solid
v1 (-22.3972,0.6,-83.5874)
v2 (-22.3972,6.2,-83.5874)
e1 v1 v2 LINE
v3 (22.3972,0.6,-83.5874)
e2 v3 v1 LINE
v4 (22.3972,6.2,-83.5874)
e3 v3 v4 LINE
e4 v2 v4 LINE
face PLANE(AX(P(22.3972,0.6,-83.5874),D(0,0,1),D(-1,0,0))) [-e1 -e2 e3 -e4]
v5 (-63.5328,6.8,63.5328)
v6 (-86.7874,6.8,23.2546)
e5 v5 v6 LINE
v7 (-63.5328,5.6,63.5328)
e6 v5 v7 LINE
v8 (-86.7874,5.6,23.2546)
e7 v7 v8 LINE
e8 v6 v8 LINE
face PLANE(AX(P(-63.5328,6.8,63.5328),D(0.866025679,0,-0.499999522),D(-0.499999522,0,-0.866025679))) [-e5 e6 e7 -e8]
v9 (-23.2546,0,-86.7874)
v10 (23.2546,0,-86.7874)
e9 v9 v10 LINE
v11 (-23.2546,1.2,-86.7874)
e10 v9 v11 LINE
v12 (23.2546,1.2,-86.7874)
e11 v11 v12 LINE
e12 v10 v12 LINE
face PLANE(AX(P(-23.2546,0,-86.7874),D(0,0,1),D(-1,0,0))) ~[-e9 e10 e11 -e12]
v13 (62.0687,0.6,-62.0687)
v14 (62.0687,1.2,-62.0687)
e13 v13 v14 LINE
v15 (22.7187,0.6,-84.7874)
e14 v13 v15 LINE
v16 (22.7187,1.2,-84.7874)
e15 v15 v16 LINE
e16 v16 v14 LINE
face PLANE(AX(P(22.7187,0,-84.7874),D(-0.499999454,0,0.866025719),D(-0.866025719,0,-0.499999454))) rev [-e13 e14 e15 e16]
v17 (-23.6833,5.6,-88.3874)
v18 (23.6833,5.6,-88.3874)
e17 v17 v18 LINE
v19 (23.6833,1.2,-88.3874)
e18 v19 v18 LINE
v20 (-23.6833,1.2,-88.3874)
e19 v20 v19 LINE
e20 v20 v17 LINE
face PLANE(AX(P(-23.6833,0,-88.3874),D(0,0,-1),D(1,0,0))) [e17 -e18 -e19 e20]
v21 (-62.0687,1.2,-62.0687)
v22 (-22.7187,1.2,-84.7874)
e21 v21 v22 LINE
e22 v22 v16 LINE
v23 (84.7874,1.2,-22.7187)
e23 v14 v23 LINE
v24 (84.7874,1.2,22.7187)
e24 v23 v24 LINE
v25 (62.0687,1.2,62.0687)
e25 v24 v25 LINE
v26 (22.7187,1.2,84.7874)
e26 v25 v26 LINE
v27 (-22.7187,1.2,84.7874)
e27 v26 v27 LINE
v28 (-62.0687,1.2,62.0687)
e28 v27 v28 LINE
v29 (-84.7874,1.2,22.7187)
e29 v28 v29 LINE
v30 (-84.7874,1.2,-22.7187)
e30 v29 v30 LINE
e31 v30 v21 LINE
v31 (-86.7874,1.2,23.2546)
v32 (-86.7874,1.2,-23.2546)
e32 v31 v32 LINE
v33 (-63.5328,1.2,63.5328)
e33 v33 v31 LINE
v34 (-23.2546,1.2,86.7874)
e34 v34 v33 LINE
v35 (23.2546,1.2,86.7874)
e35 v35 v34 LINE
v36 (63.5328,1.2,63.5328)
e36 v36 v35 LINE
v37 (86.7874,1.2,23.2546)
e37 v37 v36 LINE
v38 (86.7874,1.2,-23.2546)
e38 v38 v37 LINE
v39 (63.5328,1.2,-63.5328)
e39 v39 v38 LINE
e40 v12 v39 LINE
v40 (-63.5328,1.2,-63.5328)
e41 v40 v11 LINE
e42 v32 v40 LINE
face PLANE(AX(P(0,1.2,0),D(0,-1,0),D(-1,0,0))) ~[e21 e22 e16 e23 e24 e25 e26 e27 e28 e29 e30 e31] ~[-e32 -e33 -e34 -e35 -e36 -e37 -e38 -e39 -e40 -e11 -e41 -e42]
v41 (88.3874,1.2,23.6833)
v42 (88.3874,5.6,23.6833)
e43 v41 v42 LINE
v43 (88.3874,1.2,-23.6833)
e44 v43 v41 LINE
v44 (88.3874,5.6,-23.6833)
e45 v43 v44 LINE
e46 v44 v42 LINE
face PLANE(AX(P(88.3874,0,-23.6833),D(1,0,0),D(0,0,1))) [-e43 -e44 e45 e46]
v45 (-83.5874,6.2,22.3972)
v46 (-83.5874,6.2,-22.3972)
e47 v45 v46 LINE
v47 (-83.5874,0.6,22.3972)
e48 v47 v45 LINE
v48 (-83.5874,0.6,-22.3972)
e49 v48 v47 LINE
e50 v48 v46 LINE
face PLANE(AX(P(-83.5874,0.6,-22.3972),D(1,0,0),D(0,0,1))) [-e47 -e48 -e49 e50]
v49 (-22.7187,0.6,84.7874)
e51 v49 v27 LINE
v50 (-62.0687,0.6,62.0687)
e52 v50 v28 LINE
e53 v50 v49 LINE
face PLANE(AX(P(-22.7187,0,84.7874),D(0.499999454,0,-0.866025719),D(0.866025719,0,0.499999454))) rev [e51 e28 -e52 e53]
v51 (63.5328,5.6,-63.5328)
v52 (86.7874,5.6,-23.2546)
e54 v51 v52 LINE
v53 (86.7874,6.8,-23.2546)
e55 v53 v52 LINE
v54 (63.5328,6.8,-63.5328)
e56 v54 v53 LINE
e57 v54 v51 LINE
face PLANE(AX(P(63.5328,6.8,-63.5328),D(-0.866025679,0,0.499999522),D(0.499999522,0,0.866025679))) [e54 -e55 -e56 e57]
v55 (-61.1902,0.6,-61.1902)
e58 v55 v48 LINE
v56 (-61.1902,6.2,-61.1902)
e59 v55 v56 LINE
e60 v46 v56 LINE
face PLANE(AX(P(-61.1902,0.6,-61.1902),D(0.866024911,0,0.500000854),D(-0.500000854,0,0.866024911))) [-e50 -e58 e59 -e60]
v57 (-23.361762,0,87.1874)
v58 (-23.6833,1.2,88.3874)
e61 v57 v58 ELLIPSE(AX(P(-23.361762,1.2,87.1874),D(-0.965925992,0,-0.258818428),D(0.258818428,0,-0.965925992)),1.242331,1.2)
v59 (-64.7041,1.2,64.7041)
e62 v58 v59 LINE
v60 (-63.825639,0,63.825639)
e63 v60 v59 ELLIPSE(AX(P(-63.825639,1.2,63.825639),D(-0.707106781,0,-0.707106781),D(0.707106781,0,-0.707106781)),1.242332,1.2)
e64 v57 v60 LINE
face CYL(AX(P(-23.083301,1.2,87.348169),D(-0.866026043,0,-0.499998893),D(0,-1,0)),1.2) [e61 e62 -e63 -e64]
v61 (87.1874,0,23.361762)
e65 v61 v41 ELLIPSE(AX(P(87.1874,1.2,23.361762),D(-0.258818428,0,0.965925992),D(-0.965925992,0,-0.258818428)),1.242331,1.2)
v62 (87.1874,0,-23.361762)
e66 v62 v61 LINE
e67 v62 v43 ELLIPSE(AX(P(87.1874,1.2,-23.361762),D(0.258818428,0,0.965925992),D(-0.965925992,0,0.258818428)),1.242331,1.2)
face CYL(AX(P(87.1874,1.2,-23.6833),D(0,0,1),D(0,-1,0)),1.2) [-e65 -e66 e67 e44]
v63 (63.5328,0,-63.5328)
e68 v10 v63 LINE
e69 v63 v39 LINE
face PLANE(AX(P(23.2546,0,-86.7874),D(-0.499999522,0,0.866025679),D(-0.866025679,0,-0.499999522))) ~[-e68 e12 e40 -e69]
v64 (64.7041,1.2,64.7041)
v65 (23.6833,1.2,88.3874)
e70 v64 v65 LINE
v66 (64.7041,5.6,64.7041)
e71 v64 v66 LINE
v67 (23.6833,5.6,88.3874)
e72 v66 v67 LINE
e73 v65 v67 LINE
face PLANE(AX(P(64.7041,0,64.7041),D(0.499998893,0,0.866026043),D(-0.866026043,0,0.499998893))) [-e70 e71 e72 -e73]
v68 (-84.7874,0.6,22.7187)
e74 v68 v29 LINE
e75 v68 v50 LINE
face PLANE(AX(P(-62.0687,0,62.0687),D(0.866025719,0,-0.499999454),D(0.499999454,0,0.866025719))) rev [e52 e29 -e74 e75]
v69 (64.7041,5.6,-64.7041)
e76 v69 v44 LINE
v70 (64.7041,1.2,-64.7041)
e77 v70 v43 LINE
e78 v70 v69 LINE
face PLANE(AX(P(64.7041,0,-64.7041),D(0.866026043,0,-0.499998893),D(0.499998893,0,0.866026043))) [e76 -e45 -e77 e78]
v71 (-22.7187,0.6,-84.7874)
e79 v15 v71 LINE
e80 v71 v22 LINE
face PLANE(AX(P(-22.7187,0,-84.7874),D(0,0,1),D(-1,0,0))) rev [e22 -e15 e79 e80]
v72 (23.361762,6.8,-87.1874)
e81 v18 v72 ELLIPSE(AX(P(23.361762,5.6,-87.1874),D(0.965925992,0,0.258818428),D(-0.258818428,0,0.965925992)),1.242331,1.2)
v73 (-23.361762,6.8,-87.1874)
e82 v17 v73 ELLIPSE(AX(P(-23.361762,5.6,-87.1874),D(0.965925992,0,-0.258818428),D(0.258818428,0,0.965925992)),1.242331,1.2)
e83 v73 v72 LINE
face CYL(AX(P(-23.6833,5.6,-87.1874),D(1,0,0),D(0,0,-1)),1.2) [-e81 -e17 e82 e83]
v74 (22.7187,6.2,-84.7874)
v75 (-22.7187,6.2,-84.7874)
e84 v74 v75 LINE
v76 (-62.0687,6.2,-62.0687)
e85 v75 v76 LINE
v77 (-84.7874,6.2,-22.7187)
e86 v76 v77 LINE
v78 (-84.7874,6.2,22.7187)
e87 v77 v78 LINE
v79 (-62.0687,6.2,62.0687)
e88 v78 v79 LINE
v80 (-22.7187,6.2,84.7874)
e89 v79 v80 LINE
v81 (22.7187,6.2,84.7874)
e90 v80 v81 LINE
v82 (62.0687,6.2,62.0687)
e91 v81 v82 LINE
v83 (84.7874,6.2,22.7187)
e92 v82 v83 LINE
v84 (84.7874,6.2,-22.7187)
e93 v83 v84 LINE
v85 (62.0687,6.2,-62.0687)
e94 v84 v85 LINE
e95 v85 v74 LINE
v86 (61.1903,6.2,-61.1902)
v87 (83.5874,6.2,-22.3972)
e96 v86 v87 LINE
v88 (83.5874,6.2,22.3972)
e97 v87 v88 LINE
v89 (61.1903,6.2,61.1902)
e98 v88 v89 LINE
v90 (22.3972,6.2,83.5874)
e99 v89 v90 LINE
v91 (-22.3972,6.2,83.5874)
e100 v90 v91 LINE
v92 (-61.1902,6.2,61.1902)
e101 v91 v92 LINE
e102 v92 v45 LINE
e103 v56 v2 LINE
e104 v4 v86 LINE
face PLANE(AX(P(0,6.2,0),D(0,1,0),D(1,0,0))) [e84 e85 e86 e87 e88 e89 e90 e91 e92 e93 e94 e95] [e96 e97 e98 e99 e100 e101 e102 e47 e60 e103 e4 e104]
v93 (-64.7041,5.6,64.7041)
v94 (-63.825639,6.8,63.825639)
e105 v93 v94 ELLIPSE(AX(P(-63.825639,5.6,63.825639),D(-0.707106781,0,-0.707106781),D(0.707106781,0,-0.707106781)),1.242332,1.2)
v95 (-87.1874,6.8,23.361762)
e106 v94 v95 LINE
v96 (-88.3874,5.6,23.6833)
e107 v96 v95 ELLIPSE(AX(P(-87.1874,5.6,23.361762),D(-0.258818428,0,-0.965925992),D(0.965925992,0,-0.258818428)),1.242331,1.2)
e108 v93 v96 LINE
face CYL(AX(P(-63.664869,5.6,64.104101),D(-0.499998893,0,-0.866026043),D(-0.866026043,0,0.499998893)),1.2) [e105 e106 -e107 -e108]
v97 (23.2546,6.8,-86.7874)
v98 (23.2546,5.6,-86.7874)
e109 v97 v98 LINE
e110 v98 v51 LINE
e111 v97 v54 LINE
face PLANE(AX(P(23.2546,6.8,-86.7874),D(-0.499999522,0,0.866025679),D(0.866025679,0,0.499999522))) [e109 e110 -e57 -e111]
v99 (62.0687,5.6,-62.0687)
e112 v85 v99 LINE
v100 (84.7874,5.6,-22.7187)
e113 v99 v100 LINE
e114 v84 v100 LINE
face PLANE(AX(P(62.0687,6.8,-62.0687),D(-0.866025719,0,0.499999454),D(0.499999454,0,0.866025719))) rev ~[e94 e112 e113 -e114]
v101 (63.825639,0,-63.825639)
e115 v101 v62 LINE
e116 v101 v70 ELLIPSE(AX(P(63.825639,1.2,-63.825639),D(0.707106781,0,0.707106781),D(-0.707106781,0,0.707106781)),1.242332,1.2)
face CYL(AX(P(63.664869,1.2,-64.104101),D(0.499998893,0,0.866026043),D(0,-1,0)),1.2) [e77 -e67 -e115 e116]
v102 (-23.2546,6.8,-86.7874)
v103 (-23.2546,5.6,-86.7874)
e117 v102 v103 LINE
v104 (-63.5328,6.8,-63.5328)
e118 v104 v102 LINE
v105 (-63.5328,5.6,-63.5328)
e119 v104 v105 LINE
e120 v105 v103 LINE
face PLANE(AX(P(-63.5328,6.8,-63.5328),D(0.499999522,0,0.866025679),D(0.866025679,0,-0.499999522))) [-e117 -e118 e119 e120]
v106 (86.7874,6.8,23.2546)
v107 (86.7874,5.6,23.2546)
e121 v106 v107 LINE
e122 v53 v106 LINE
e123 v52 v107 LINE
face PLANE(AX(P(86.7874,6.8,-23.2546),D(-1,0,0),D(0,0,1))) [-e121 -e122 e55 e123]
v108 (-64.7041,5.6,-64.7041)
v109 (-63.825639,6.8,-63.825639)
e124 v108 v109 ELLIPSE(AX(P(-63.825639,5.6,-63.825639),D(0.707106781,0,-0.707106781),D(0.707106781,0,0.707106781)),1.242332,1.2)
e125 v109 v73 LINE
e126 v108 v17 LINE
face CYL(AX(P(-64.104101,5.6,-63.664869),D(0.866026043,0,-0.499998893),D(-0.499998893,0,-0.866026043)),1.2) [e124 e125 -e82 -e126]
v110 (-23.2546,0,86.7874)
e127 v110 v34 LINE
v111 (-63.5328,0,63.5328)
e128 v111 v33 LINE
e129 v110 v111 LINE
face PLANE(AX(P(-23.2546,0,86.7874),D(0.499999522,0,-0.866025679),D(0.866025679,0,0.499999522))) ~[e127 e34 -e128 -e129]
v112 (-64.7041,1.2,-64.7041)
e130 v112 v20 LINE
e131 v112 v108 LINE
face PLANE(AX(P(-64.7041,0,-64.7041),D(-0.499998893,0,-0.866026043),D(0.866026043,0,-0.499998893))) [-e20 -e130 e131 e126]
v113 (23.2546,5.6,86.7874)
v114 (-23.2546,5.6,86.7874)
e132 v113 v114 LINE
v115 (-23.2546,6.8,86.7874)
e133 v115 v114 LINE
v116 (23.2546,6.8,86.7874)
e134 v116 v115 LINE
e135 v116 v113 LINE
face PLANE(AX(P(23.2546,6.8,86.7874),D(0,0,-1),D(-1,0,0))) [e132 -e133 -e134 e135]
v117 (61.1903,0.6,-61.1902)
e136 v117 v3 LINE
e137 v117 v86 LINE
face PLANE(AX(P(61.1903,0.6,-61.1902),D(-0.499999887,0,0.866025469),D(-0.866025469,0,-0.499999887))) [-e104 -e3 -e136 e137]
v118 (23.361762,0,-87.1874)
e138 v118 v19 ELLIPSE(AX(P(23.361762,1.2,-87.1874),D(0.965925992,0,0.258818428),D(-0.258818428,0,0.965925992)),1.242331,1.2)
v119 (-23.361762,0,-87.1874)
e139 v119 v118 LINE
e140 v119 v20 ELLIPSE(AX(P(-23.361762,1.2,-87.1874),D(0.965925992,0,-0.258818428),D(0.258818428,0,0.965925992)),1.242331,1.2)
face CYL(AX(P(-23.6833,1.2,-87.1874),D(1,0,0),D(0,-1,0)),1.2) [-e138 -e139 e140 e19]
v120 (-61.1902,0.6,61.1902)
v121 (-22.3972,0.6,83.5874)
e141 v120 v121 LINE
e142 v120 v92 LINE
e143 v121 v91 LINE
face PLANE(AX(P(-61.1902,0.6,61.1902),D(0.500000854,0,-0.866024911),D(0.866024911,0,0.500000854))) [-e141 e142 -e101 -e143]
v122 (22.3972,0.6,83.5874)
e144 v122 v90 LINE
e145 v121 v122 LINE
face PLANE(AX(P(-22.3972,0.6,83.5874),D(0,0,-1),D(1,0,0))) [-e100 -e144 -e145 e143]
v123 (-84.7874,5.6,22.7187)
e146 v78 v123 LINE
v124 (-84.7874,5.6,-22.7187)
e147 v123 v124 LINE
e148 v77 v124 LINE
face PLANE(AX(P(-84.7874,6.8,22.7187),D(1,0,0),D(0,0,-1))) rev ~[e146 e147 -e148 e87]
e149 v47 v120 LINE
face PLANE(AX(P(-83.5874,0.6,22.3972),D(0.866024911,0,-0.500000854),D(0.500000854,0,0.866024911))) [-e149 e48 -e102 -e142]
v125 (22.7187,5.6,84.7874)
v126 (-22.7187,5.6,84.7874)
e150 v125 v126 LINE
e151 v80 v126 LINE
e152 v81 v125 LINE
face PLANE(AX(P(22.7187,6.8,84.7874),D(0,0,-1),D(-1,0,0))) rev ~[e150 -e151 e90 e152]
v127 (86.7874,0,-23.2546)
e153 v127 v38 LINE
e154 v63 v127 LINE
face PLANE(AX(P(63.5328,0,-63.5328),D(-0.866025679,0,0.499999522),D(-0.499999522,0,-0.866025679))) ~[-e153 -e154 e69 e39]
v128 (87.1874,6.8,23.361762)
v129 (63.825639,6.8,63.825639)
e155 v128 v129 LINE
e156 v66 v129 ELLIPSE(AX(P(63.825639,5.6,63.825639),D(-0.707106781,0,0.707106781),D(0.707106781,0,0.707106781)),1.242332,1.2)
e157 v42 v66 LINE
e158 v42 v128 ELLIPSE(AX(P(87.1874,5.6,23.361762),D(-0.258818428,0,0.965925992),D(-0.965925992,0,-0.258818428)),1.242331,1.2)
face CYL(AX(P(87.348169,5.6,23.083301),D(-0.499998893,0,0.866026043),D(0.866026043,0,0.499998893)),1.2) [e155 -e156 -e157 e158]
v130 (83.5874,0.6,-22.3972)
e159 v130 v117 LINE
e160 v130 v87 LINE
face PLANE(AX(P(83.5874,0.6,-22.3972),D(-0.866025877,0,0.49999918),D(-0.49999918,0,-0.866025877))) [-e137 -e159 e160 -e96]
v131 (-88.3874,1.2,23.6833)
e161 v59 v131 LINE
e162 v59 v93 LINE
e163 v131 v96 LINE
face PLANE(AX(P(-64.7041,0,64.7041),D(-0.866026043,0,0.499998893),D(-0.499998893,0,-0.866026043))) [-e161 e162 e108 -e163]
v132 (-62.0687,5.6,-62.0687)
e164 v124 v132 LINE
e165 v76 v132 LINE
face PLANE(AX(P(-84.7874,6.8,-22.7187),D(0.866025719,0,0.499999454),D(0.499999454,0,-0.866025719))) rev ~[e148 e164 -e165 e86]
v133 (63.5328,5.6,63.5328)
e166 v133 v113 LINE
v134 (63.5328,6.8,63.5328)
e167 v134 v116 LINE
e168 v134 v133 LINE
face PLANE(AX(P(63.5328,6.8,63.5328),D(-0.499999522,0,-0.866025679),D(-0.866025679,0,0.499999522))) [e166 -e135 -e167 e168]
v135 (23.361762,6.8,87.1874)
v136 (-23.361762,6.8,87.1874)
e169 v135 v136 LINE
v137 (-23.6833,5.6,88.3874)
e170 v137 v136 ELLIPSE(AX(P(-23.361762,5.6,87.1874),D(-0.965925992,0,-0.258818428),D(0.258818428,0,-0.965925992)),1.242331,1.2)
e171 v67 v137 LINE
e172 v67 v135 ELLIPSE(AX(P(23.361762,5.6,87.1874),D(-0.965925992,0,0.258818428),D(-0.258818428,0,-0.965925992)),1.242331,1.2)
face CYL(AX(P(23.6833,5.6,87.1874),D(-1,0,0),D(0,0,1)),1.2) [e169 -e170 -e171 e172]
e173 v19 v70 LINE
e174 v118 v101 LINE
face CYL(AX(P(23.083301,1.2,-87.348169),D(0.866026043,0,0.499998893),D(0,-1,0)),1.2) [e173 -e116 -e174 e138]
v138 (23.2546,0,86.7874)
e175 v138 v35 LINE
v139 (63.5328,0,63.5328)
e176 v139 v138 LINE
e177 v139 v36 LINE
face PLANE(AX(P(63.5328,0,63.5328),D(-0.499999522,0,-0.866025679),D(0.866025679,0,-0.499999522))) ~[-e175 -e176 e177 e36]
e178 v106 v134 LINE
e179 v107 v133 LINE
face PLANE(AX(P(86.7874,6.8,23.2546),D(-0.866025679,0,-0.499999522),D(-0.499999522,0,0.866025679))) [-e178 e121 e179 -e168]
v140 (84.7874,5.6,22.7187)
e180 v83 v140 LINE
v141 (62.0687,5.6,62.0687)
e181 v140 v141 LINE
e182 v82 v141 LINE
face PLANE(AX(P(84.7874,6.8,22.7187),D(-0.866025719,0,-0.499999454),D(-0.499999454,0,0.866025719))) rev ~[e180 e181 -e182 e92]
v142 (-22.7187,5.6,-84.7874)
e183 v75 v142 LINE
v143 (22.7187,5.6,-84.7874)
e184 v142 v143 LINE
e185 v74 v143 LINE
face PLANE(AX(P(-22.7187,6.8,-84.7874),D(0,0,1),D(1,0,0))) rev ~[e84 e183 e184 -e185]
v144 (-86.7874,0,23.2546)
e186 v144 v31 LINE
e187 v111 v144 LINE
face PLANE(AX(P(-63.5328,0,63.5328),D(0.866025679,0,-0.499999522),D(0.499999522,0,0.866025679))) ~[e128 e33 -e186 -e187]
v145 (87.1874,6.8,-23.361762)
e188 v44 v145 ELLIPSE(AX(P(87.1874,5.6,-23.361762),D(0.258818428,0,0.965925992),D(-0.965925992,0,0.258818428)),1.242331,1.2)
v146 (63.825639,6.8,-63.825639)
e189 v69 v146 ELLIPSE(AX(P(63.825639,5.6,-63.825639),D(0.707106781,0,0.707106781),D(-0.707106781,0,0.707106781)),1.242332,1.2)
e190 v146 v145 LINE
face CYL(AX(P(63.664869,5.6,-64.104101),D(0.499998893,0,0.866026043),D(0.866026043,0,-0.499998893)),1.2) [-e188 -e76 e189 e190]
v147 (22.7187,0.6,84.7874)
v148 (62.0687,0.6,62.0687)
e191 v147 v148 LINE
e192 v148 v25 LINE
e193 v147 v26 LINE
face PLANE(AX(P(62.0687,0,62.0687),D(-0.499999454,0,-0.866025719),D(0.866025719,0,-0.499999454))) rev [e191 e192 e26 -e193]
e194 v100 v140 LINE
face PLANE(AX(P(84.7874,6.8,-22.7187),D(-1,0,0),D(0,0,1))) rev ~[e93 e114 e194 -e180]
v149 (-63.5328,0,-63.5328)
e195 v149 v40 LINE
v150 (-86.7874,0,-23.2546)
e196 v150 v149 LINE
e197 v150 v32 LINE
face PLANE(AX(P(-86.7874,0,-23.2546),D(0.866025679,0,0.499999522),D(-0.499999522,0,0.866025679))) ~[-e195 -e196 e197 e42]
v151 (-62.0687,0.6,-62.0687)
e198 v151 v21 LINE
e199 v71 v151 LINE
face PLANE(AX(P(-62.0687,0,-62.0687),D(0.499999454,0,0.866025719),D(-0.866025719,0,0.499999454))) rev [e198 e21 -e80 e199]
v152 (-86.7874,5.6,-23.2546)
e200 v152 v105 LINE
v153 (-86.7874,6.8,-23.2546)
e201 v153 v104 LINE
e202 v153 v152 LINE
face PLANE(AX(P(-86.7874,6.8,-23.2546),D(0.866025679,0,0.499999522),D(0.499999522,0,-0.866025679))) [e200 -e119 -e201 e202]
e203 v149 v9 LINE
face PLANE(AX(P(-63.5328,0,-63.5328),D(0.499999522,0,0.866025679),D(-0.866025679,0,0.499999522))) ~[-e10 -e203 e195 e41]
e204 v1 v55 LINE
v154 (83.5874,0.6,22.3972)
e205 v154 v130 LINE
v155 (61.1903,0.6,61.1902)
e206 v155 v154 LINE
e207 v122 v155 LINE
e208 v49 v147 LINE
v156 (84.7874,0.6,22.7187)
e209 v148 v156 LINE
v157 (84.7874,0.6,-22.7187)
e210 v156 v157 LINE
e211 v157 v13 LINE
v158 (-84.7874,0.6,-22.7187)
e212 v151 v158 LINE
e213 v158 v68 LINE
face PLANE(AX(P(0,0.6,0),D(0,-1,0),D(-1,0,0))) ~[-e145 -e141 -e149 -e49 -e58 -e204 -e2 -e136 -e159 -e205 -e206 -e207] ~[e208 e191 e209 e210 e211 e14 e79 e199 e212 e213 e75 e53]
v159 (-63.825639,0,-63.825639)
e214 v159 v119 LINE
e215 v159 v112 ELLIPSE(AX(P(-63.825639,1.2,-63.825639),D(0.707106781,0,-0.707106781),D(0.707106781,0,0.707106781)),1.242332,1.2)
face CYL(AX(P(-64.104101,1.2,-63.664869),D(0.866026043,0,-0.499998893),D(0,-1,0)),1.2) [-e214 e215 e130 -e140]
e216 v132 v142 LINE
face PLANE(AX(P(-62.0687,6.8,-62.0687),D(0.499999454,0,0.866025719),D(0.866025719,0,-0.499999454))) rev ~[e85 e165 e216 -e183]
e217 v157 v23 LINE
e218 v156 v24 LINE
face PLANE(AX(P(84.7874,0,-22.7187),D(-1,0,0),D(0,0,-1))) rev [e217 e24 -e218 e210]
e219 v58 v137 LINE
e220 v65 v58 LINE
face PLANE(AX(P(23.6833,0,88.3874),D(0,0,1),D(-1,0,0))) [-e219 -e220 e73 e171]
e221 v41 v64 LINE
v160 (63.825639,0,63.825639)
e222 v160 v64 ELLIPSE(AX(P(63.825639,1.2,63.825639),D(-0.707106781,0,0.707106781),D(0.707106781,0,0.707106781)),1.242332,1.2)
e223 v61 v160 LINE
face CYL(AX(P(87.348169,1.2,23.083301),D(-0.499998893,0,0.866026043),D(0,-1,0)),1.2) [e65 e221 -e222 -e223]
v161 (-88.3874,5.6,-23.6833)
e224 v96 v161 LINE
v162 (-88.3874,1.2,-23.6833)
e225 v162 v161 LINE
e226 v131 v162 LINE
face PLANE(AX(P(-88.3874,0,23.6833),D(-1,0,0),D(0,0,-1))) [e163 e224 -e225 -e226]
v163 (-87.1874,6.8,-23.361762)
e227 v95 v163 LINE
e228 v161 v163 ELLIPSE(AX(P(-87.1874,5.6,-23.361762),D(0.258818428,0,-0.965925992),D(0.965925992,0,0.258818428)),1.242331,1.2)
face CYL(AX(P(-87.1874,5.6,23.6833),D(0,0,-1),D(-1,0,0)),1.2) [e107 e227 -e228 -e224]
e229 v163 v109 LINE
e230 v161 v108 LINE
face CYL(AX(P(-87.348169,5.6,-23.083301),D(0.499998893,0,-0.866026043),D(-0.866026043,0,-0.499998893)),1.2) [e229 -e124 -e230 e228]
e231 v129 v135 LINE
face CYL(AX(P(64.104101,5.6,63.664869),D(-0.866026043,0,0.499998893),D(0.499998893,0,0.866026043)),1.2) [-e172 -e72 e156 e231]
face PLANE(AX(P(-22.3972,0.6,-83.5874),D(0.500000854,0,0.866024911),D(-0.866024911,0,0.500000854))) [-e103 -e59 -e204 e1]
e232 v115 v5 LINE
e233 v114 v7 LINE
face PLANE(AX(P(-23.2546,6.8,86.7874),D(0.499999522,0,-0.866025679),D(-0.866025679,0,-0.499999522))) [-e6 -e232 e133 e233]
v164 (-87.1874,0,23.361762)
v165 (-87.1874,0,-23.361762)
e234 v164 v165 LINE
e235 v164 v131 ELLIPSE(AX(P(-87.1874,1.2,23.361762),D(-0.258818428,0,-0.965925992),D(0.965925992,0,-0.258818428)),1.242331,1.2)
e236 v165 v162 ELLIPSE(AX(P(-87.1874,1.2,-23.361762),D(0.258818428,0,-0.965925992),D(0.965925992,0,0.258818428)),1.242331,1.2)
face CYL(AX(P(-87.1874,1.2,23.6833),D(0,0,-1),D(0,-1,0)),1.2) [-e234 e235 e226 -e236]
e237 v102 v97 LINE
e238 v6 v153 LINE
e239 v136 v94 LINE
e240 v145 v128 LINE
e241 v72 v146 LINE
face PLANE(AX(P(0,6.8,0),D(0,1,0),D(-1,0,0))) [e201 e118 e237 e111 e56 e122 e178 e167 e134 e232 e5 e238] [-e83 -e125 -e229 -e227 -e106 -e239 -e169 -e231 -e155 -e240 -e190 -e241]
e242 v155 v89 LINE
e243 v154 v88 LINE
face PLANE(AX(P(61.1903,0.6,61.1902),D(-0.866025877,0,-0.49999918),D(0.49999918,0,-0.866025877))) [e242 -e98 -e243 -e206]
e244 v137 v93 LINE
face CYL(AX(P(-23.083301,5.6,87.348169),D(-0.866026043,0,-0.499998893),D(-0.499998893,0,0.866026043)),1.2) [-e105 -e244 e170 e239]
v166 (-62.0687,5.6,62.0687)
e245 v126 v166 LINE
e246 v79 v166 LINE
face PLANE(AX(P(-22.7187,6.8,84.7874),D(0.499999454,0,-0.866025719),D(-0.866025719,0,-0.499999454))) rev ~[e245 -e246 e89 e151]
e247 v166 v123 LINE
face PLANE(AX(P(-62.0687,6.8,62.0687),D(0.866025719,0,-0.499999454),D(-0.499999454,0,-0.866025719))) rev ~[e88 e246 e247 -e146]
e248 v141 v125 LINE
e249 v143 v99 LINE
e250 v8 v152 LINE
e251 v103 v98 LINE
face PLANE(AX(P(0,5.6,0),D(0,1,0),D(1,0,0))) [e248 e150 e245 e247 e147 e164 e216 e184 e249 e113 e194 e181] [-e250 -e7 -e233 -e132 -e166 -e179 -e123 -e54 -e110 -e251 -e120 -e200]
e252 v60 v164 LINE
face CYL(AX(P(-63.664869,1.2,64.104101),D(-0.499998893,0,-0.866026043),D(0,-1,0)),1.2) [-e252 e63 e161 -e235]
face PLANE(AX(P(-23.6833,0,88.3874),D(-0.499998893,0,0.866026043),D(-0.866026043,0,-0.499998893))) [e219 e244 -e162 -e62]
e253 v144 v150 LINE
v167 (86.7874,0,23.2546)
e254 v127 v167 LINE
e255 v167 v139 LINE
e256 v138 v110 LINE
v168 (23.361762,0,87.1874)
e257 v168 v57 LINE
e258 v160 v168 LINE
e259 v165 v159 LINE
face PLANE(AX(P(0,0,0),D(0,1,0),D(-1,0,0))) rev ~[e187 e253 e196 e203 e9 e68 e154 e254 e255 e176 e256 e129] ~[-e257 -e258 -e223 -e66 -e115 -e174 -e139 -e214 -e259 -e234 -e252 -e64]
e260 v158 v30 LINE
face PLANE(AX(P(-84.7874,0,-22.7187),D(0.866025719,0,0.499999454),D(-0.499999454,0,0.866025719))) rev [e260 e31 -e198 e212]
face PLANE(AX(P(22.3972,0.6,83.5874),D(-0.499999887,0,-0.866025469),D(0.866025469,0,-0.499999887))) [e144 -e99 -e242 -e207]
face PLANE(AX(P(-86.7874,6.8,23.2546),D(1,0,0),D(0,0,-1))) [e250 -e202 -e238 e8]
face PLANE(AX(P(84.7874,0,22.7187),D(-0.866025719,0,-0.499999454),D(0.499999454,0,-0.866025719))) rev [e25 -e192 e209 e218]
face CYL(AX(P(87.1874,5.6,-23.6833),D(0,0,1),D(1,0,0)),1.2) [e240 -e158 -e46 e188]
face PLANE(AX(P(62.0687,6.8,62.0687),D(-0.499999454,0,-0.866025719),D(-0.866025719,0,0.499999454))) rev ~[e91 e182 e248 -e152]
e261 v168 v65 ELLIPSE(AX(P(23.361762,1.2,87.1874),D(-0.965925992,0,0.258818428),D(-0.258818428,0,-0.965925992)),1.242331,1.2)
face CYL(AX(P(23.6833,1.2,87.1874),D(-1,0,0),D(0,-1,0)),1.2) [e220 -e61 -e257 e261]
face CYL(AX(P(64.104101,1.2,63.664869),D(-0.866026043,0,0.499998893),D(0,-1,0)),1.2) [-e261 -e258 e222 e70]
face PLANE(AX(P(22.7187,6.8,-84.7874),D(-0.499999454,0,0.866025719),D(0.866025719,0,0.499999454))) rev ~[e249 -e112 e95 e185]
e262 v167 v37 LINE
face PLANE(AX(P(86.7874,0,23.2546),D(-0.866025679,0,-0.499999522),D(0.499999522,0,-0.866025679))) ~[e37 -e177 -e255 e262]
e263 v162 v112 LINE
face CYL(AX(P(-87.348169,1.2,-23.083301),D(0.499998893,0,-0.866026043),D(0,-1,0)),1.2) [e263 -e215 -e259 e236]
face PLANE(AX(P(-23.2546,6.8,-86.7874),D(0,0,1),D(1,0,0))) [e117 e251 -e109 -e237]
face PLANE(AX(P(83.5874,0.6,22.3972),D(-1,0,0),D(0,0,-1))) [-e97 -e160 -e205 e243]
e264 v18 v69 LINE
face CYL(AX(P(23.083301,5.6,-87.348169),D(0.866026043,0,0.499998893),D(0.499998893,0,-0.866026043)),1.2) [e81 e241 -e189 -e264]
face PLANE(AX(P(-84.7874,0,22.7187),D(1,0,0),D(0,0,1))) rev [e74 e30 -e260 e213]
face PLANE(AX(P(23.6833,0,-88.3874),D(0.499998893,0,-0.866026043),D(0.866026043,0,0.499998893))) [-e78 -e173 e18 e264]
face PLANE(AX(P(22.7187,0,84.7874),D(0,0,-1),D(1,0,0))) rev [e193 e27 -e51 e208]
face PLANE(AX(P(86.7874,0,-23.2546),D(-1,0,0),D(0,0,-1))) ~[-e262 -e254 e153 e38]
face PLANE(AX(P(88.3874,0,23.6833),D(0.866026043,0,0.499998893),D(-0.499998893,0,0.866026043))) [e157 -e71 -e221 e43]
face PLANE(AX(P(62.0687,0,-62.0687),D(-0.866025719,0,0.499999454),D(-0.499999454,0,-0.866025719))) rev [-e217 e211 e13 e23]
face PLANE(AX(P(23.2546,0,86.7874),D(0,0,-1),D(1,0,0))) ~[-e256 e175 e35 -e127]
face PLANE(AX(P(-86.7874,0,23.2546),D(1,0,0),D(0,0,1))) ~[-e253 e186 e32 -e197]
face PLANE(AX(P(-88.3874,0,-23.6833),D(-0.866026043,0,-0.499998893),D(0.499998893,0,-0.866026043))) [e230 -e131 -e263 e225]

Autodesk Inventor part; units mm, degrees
ref_plane "YZ Plane" through (0, 0, 0) normal (1, 0, 0) x (0, 1, 0)
ref_plane "XZ Plane" through (0, 0, 0) normal (0, 1, 0) x (-1, 0, 0)
sketch "스케치1" plane through (0, 0, 0) normal (0, 1, 0) x (-1, 0, 0)
  line L0 (-62.3615, 62.3615) -> (-22.8259, 85.1874)
  line L1 (-22.8259, 85.1874) -> (22.8259, 85.1874)
  line L2 (22.8259, 85.1874) -> (62.3615, 62.3615)
  line L3 (62.3615, 62.3615) -> (85.1874, 22.8259)
  line L4 (85.1874, 22.8259) -> (85.1874, -22.8259)
  line L5 (85.1874, -22.8259) -> (62.3615, -62.3615)
  line L6 (62.3615, -62.3615) -> (22.8259, -85.1874)
  line L7 (22.8259, -85.1874) -> (-22.8259, -85.1874)
  line L8 (-22.8259, -85.1874) -> (-62.3615, -62.3615)
  line L9 (-62.3615, -62.3615) -> (-85.1874, -22.8259)
  line L10 (-85.1874, -22.8259) -> (-85.1874, 22.8259)
  line L11 (-85.1874, 22.8259) -> (-62.3615, 62.3615)
  line L12 (88.3874, -23.6833) -> (64.7041, -64.7041)
  line L13 (64.7041, -64.7041) -> (23.6833, -88.3874)
  line L14 (23.6833, -88.3874) -> (-23.6833, -88.3874)
  line L15 (-23.6833, -88.3874) -> (-64.7041, -64.7041)
  line L16 (-64.7041, -64.7041) -> (-88.3874, -23.6833)
  line L17 (-88.3874, -23.6833) -> (-88.3874, 23.6833)
  line L18 (-88.3874, 23.6833) -> (-64.7041, 64.7041)
  line L19 (-64.7041, 64.7041) -> (-23.6833, 88.3874)
  line L20 (-23.6833, 88.3874) -> (23.6833, 88.3874)
  line L21 (23.6833, 88.3874) -> (64.7041, 64.7041)
  line L22 (64.7041, 64.7041) -> (88.3874, 23.6833)
  line L23 (88.3874, 23.6833) -> (88.3874, -23.6833)
  point P0 (0, 0)
  point P1 (0, 0)
  point P2 (0, 0)
  dimension "d0" = 176.385
  dimension "d1" = 3.2
extrude "돌출1" add sketch "스케치1" along normal blind 6.8 contours L0 L1 L2 L3 L4 L5 L6 L7 L8 L9 L10 L11 | L12 L13 L14 L15 L16 L17 L18 L19 L20 L21 L22 L23
sketch "스케치2" plane through (0, 6.8, 0) normal (0, 1, 0) x (1, 0, 0)
  line L0 (-23.2546, 86.7874) -> (23.2546, 86.7874)
  line L1 (23.2546, 86.7874) -> (63.5328, 63.5328)
  line L2 (63.5328, 63.5328) -> (86.7874, 23.2546)
  line L3 (86.7874, 23.2546) -> (86.7874, -23.2546)
  line L4 (86.7874, -23.2546) -> (63.5328, -63.5328)
  line L5 (63.5328, -63.5328) -> (23.2546, -86.7874)
  line L6 (23.2546, -86.7874) -> (-23.2546, -86.7874)
  line L7 (-23.2546, -86.7874) -> (-63.5328, -63.5328)
  line L8 (-63.5328, -63.5328) -> (-86.7874, -23.2546)
  line L9 (-86.7874, -23.2546) -> (-86.7874, 23.2546)
  line L10 (-86.7874, 23.2546) -> (-63.5328, 63.5328)
  line L11 (-63.5328, 63.5328) -> (-23.2546, 86.7874)
  line L12 (-88.3874, 23.6833) -> (-88.3874, -23.6833) projected
  line L13 (22.7187, -84.7874) -> (-22.7187, -84.7874)
  line L14 (-22.7187, -84.7874) -> (-62.0687, -62.0687)
  line L15 (-62.0687, -62.0687) -> (-84.7874, -22.7187)
  line L16 (-84.7874, -22.7187) -> (-84.7874, 22.7187)
  line L17 (-84.7874, 22.7187) -> (-62.0687, 62.0687)
  line L18 (-62.0687, 62.0687) -> (-22.7187, 84.7874)
  line L19 (-22.7187, 84.7874) -> (22.7187, 84.7874)
  line L20 (22.7187, 84.7874) -> (62.0687, 62.0687)
  line L21 (62.0687, 62.0687) -> (84.7874, 22.7187)
  line L22 (84.7874, 22.7187) -> (84.7874, -22.7187)
  line L23 (84.7874, -22.7187) -> (62.0687, -62.0687)
  line L24 (62.0687, -62.0687) -> (22.7187, -84.7874)
  point P0 (0, 0)
  point P1 (0, 0)
  point P2 (0, 0)
  dimension "d4" = 1.6
  dimension "d5" = 2
extrude "돌출2" cut sketch "스케치2" against normal blind 1.2
sketch "스케치5" plane through (0, 6.8, 0) normal (0, 1, 0) x (1, 0, 0)
  line L0 (-62.0687, -62.0687) -> (-22.7187, -84.7874) projected
  line L1 (-22.7187, -84.7874) -> (22.7187, -84.7874) projected
  line L2 (22.7187, -84.7874) -> (62.0687, -62.0687) projected
  line L3 (62.0687, -62.0687) -> (84.7874, -22.7187) projected
  line L4 (84.7874, -22.7187) -> (84.7874, 22.7187) projected
  line L5 (84.7874, 22.7187) -> (62.0687, 62.0687) projected
  line L6 (62.0687, 62.0687) -> (22.7187, 84.7874) projected
  line L7 (22.7187, 84.7874) -> (-22.7187, 84.7874) projected
  line L8 (-22.7187, 84.7874) -> (-62.0687, 62.0687) projected
  line L9 (-62.0687, 62.0687) -> (-84.7874, 22.7187) projected
  line L10 (-84.7874, 22.7187) -> (-84.7874, -22.7187) projected
  line L11 (-84.7874, -22.7187) -> (-62.0687, -62.0687) projected
  point P0 (0, 0)
extrude "돌출5" cut sketch "스케치5" against normal blind 0.6
fillet "모깎기1" radius 1.2 24 edges at (76.5457, 0, 44.1937) (76.5457, 6.8, 44.1937) (88.3874, 6.8, 0) (88.3874, 0, 0) (76.5457, 6.8, -44.1937) (76.5457, 0, -44.1937) (44.1937, 6.8, -76.5457) (44.1937, 0, -76.5457) (0, 0, -88.3874) (0, 6.8, -88.3874) (-44.1937, 6.8, -76.5457) (-44.1937, 0, -76.5457) (-76.5457, 0, -44.1937) (-76.5457, 6.8, -44.1937) (-88.3874, 0, 0) (-88.3874, 6.8, 0) (-76.5457, 0, 44.1937) (-76.5457, 6.8, 44.1937) (-44.1937, 0, 76.5457) (-44.1937, 6.8, 76.5457) (0, 0, 88.3874) (0, 6.8, 88.3874) (44.1937, 0, 76.5457) (44.1937, 6.8, 76.5457)
ref_plane "작업 평면1" through (0, 3.4, 0) normal (0, -1, 0) x (1, 0, 0)
mirror "미러1" about plane through (0, 3.4, 0) normal (0, -1, 0) of "돌출5", "돌출2"
sketch "스케치9" plane through (-22.7187, 0.6, 84.7874) normal (0, -1, 0) x (1, 0, 0)
  line L0 (0.3215, -168.3748) -> (-38.4715, -145.9776)
  line L1 (-38.4715, -145.9776) -> (-60.8687, -107.1846)
  line L2 (-60.8687, -107.1846) -> (-60.8687, -62.3902)
  line L3 (-60.8687, -62.3902) -> (-38.4715, -23.5972)
  line L4 (-38.4715, -23.5972) -> (0.3215, -1.2)
  line L5 (0.3215, -1.2) -> (45.1159, -1.2)
  line L6 (45.1159, -1.2) -> (83.909, -23.5972)
  line L7 (83.909, -23.5972) -> (106.3061, -62.3902)
  line L8 (106.3061, -62.3902) -> (106.3061, -107.1846)
  line L9 (106.3061, -107.1846) -> (83.909, -145.9776)
  line L10 (83.909, -145.9776) -> (45.1159, -168.3748)
  line L11 (45.1159, -168.3748) -> (0.3215, -168.3748)
  line L12 (107.5061, -62.0687) -> (107.5061, -107.5061) projected
  point P0 (22.7187, -84.7874)
  point P1 (22.7187, -84.7874)
  dimension "d37" = 1.2
extrude "돌출9" cut sketch "스케치9" against normal blind 10
properties part number "(x2)_POSPA_Large_Bottom"
